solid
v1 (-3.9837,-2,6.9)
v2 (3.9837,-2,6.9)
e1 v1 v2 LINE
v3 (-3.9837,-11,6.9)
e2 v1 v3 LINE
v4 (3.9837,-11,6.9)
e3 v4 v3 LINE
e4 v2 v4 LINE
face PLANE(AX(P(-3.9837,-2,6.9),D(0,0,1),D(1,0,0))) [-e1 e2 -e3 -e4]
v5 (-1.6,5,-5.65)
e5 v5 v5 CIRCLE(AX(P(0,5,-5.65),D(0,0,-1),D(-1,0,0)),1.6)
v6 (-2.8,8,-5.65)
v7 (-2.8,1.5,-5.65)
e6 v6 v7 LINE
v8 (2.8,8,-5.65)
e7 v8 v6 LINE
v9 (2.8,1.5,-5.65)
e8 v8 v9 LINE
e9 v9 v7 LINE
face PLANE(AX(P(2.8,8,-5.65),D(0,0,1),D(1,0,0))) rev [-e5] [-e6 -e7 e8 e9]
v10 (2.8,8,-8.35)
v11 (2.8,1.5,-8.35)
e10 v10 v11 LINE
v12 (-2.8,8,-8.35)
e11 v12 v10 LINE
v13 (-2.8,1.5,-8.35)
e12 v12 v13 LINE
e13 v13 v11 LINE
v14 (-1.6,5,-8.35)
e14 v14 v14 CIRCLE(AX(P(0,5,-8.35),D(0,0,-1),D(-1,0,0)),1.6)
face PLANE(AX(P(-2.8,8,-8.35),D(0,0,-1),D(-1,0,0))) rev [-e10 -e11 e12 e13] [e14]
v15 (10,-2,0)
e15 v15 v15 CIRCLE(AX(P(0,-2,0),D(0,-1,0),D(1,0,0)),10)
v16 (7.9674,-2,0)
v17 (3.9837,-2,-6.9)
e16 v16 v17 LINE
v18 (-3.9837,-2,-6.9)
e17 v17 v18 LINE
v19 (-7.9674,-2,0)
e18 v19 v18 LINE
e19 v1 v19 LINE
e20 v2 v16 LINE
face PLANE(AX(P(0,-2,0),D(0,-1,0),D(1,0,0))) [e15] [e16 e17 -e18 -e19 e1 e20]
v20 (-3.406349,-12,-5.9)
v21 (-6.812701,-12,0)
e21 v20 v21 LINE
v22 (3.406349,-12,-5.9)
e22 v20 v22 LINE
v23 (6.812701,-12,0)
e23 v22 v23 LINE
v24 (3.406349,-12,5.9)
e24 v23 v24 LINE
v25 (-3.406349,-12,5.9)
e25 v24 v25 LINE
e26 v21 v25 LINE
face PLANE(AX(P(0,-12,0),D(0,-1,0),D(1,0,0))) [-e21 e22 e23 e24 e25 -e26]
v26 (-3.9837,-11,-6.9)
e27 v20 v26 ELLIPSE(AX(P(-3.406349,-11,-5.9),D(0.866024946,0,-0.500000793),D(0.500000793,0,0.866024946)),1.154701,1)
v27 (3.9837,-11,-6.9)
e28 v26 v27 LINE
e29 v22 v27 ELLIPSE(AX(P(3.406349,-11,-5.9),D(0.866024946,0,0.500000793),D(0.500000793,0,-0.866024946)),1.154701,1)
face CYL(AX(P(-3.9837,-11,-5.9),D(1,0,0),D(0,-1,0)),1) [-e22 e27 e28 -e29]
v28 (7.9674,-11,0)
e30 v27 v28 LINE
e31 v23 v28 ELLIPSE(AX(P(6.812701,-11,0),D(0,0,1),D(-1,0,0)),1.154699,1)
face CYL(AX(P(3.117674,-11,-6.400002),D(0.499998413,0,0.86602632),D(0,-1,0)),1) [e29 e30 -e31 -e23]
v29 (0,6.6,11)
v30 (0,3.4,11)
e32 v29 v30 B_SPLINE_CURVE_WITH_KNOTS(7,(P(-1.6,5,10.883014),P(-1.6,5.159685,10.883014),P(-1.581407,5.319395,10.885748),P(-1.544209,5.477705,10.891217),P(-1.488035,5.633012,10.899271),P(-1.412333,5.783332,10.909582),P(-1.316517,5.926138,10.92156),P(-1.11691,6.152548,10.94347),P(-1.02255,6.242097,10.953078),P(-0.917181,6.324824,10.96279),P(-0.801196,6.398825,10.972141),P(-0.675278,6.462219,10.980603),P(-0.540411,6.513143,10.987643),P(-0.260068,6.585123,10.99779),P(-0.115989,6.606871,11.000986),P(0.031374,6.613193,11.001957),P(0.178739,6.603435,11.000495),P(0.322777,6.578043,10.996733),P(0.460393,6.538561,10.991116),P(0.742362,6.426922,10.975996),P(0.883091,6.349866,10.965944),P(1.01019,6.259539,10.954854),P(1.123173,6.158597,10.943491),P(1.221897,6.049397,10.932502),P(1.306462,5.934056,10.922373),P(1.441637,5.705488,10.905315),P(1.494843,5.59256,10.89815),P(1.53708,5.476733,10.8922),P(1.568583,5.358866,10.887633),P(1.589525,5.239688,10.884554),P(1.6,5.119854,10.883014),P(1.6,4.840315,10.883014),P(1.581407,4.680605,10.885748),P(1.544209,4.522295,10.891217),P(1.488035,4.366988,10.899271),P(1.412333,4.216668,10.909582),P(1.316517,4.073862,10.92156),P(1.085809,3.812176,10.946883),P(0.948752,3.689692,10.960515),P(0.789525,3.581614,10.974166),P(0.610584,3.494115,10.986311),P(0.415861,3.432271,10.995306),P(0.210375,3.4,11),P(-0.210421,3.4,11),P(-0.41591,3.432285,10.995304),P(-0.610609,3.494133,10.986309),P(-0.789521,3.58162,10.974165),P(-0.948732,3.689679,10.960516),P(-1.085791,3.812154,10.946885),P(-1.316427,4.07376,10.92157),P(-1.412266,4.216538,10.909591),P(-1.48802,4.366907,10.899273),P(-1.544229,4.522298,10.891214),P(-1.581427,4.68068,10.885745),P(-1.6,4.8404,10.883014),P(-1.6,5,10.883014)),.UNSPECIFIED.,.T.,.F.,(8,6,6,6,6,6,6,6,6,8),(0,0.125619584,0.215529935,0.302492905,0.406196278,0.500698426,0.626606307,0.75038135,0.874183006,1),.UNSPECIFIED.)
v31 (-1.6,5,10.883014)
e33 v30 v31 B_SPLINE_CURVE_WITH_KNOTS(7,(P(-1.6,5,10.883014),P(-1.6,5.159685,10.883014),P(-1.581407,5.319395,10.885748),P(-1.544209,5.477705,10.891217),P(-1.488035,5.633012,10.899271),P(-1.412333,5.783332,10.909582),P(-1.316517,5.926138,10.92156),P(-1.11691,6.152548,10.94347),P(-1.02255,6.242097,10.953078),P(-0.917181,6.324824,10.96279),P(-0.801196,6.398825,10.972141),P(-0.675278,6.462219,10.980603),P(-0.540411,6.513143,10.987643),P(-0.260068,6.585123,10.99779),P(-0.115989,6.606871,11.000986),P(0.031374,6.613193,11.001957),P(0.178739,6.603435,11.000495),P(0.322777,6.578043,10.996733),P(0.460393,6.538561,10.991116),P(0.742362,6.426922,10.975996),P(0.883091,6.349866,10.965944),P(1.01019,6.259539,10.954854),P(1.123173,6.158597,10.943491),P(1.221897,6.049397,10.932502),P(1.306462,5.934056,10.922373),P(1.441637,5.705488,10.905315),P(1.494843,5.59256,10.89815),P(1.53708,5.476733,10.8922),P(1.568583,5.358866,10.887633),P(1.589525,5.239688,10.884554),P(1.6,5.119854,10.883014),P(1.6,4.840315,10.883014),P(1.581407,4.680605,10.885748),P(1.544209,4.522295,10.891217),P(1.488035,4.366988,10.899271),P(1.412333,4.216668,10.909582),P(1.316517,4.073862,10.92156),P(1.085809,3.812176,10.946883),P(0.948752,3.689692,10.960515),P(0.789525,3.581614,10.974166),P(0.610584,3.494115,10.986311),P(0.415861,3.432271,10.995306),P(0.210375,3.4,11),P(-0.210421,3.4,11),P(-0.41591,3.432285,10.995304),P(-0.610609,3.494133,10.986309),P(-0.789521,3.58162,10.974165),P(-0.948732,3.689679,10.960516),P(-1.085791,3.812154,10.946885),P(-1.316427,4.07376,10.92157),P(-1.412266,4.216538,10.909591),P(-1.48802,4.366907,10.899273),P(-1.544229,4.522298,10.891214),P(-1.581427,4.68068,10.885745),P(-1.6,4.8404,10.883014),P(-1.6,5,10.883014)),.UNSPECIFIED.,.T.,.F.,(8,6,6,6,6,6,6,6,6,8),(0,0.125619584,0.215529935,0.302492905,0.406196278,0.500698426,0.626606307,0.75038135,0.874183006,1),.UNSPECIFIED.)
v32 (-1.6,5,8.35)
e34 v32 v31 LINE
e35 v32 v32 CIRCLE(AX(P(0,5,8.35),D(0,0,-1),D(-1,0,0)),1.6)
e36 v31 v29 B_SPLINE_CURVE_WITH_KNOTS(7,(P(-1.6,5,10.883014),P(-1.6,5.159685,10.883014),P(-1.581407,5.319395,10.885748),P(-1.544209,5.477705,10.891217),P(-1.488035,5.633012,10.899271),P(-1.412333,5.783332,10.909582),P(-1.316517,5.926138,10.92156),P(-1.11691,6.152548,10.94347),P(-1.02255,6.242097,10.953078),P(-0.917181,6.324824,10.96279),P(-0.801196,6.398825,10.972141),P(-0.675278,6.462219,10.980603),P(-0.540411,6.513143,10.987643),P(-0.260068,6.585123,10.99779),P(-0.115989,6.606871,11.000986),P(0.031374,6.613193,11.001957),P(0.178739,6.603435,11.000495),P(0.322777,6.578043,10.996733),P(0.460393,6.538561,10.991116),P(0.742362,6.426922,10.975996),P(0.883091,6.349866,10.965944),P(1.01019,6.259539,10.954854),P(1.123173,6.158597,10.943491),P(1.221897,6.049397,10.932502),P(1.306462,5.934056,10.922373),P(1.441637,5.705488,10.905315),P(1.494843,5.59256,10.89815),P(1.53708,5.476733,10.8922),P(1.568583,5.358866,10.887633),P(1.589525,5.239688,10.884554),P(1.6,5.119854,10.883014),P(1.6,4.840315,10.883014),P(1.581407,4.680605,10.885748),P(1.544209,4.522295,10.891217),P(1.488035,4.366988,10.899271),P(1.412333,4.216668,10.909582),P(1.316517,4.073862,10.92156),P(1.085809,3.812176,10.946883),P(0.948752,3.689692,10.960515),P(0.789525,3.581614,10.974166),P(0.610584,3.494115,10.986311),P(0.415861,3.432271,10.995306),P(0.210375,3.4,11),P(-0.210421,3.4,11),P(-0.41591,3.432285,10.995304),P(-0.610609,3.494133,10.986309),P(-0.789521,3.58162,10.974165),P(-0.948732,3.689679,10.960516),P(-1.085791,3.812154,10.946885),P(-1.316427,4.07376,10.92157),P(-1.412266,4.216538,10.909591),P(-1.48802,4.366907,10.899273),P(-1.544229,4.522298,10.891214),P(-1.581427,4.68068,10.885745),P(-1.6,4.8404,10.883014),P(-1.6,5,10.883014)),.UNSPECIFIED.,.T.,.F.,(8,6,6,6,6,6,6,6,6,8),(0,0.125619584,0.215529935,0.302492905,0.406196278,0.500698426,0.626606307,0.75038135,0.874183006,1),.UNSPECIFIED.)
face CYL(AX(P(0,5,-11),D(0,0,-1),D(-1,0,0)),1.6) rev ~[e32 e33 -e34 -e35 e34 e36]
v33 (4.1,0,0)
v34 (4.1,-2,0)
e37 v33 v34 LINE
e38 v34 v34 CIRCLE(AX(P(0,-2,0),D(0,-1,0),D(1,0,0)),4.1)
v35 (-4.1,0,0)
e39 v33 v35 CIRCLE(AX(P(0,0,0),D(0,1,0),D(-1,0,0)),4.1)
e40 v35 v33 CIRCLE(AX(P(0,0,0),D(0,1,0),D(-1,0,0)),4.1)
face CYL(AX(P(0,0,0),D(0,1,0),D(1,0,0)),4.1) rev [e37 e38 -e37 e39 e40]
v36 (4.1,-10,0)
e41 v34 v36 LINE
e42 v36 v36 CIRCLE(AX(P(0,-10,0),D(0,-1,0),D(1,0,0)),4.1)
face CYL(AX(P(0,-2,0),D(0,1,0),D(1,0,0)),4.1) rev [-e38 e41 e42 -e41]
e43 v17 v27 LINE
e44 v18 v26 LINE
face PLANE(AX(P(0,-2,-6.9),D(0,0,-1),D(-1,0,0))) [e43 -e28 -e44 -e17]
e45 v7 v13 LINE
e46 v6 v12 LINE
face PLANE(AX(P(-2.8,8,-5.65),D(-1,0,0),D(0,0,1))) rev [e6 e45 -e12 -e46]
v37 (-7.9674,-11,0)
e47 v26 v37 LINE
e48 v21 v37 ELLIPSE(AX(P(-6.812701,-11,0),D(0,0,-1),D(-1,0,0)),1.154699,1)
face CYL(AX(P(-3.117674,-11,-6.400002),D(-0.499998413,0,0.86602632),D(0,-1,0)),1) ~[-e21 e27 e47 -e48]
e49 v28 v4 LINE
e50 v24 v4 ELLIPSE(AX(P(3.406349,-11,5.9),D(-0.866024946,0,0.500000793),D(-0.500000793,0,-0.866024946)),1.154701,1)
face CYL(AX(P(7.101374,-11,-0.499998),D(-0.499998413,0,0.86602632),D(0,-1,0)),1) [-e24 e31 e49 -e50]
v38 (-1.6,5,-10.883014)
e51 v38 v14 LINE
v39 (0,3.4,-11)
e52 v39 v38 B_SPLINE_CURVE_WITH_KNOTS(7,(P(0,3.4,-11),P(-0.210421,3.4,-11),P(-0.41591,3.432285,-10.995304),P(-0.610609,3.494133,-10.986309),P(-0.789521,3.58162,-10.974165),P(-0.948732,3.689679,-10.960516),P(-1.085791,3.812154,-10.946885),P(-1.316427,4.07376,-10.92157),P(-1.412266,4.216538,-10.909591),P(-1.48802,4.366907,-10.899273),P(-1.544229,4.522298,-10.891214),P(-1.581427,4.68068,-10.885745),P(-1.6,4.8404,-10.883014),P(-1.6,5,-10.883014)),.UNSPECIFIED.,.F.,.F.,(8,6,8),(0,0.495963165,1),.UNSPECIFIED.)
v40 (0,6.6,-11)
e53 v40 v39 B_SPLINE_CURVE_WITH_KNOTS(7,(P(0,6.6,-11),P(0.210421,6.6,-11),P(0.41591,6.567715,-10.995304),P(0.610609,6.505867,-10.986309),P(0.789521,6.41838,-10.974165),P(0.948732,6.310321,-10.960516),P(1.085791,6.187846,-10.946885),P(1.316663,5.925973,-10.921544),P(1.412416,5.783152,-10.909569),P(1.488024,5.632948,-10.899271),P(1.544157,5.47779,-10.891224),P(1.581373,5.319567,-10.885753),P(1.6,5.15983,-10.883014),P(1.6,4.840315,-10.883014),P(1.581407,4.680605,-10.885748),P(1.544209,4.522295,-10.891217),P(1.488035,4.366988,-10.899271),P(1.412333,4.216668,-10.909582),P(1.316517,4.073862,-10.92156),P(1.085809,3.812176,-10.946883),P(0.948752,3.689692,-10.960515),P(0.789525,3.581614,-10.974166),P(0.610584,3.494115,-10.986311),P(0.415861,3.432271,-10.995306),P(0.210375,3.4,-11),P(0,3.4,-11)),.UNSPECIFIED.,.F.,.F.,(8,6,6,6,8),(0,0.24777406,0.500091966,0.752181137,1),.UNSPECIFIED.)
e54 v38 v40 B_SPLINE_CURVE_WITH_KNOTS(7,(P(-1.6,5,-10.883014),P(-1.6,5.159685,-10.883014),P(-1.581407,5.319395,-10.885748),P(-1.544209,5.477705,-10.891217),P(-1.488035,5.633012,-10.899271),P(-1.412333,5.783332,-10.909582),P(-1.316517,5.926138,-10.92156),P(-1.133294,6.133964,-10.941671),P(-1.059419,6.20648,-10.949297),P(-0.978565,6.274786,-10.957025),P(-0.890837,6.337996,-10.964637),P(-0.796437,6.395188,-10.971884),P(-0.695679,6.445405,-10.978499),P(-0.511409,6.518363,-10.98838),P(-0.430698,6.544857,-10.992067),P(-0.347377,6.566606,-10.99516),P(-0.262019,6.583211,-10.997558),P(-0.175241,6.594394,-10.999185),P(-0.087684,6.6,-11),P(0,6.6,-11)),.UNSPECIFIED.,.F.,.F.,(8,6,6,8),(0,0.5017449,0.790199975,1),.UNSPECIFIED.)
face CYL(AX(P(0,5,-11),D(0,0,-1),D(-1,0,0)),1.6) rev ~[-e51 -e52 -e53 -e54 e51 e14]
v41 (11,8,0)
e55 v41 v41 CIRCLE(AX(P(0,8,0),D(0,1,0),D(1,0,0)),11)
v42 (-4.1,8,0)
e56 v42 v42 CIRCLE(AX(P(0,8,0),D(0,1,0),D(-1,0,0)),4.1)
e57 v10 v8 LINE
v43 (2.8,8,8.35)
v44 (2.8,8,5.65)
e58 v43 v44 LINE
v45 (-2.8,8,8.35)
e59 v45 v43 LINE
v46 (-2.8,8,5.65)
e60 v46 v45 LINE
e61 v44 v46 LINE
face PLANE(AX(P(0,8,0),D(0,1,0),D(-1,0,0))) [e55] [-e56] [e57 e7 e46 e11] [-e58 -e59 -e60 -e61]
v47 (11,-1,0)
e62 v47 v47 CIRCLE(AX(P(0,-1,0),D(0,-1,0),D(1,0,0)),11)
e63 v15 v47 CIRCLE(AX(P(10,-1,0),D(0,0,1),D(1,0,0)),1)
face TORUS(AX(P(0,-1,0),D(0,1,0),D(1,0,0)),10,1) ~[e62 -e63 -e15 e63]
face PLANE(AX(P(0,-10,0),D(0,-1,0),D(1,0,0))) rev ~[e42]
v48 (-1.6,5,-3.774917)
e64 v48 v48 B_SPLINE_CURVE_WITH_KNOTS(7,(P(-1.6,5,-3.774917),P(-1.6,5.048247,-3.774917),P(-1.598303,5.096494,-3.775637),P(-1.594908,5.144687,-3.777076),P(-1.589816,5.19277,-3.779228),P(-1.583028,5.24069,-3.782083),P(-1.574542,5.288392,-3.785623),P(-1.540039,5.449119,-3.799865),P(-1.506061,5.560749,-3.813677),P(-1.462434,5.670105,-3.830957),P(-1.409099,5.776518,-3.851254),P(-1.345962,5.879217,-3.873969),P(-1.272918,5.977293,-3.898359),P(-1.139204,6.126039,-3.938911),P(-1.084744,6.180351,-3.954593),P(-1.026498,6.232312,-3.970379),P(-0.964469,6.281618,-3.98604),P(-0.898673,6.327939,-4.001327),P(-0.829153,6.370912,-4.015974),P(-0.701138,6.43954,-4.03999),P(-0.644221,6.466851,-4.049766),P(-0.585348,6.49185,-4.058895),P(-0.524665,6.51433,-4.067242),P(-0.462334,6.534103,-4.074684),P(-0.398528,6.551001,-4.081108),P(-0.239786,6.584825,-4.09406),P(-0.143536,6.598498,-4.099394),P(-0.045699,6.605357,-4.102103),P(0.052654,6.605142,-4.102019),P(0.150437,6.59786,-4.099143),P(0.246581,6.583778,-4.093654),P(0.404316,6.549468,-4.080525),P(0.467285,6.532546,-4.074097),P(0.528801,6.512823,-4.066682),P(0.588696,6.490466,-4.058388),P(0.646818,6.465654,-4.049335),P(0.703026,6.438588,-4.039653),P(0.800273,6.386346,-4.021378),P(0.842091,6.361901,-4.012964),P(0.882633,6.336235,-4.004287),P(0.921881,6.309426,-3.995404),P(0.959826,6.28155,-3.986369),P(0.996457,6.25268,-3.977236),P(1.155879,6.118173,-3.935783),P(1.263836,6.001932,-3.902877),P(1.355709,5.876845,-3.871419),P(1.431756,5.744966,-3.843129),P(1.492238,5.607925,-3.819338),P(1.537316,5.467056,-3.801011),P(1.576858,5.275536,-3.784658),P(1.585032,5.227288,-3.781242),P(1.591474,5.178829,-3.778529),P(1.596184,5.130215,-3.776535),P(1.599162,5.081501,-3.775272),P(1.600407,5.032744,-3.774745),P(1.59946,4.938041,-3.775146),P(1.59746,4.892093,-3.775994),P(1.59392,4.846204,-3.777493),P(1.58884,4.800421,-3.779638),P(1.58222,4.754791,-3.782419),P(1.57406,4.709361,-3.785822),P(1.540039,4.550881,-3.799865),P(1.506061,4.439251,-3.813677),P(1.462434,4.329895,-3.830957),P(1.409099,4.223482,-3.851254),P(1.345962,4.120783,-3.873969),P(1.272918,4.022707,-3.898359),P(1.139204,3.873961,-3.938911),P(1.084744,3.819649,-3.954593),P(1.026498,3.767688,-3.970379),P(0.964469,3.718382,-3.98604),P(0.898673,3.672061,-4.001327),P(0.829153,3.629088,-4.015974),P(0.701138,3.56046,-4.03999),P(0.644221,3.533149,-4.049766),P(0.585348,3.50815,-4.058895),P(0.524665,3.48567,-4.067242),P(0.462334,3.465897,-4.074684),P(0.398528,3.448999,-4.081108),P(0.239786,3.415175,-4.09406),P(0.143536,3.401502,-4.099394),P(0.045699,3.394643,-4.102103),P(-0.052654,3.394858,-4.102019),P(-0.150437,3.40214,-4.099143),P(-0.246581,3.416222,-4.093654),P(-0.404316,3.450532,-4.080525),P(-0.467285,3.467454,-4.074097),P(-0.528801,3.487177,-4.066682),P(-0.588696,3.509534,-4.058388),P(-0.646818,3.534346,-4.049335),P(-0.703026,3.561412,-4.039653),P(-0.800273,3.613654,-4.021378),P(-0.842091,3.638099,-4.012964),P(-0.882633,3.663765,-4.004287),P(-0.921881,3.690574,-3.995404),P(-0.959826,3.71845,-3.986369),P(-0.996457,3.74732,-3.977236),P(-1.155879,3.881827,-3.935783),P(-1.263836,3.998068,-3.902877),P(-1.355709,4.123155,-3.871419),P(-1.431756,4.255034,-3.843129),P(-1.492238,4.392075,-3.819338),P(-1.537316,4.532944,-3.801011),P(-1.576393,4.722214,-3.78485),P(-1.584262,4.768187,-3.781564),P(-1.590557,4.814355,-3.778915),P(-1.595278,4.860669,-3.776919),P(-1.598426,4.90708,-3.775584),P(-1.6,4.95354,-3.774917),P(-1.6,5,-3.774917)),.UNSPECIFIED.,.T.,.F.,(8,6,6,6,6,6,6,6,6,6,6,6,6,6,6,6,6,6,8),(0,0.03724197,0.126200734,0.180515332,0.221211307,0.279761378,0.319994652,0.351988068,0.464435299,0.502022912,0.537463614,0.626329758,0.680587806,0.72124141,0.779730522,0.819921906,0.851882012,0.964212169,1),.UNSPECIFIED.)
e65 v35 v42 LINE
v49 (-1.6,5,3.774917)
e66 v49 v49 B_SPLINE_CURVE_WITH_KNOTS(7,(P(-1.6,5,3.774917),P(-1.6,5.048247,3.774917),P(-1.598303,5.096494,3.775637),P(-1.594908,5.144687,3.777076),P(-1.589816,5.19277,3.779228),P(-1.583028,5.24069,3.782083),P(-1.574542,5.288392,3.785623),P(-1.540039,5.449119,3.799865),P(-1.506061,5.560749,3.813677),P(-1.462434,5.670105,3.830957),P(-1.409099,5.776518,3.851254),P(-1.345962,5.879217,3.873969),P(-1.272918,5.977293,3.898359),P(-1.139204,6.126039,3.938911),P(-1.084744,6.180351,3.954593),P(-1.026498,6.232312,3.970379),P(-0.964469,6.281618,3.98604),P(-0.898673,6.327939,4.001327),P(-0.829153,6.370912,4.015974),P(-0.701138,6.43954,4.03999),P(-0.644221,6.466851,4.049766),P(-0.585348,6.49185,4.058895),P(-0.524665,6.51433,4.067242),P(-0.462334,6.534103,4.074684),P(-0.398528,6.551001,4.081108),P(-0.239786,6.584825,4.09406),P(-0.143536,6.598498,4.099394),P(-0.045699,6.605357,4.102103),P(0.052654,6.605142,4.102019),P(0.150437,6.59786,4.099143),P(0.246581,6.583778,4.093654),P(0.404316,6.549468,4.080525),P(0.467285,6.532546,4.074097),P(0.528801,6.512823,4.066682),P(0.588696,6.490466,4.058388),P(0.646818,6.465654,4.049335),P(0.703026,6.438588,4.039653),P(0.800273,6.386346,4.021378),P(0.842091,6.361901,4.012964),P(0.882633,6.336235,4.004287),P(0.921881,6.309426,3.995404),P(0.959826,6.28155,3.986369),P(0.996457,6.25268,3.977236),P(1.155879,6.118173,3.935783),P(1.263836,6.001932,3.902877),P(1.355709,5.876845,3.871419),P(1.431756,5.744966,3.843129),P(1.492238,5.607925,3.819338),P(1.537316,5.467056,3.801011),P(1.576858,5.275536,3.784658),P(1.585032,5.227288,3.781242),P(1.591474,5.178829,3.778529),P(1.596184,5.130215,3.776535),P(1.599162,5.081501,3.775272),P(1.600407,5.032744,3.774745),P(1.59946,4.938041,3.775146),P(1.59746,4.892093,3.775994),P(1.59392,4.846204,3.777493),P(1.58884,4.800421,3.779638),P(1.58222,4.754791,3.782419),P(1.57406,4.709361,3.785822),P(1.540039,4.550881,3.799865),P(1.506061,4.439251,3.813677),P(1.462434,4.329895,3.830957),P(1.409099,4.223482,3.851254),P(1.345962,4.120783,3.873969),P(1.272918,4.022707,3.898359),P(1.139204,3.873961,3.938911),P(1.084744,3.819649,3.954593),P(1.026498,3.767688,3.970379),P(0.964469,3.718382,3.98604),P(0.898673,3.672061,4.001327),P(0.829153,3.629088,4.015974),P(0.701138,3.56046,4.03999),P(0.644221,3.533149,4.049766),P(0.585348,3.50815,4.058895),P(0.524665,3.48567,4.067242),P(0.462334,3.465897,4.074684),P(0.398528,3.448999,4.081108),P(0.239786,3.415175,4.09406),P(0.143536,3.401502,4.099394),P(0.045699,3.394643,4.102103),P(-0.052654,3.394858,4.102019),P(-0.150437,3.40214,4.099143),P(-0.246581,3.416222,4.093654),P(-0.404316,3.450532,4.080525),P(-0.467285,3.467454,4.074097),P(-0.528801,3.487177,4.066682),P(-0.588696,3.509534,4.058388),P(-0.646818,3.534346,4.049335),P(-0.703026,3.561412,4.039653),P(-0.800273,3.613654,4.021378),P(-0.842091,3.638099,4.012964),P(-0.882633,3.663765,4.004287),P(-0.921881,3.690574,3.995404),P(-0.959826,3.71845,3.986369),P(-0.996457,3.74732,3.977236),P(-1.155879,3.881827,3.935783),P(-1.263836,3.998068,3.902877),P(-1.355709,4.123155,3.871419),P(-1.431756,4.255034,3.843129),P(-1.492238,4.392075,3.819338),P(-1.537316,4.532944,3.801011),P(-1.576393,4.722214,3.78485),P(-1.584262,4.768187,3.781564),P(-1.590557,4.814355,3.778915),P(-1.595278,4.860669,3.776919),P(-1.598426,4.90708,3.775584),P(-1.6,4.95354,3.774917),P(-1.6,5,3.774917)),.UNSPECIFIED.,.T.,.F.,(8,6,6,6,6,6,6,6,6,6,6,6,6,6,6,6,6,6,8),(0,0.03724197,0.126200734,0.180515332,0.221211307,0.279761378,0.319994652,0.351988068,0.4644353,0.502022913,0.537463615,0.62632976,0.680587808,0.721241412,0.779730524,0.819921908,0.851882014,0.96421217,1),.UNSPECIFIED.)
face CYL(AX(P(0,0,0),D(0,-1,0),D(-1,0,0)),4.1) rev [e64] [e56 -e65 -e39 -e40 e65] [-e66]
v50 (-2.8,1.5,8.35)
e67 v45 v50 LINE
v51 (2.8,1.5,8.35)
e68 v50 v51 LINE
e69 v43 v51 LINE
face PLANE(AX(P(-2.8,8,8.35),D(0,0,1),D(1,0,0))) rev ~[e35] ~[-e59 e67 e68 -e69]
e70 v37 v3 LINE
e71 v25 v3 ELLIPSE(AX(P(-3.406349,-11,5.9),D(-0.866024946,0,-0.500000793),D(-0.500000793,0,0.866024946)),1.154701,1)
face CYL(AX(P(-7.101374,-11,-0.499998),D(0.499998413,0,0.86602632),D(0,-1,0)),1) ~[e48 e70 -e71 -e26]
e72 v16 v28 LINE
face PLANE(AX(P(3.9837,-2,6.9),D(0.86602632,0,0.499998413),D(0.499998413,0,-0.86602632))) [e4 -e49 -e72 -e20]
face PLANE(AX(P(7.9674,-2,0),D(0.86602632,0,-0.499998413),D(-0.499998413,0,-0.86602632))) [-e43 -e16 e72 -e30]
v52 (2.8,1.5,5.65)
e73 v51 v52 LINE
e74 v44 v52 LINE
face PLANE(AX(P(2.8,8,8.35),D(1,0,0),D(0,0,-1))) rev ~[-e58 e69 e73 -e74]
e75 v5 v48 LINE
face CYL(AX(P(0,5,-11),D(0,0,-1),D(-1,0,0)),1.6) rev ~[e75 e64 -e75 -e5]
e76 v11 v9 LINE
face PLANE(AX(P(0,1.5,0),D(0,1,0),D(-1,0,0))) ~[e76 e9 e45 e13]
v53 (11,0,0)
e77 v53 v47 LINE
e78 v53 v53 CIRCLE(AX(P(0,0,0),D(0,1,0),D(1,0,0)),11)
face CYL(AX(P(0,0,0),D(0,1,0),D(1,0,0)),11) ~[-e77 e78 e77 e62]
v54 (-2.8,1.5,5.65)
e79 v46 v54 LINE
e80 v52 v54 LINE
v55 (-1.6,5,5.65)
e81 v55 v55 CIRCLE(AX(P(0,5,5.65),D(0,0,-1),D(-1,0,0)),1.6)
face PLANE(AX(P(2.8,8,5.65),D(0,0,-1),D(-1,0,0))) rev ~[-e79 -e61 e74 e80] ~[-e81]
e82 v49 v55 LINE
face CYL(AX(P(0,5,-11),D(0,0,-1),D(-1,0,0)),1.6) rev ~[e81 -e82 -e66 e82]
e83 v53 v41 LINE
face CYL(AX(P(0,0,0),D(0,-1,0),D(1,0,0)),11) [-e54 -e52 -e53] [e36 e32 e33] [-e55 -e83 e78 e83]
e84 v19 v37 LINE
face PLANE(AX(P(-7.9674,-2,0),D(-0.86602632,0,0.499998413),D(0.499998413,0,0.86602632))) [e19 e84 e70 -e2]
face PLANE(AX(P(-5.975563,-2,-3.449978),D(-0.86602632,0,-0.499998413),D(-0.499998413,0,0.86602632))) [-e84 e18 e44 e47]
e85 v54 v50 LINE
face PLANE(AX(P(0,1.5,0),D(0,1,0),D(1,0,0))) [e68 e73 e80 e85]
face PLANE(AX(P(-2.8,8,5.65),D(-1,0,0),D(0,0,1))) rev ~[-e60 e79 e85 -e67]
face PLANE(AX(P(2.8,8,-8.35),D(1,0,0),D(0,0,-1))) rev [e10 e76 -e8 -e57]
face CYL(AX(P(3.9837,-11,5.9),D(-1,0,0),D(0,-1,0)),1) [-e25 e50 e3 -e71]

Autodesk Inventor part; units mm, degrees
ref_plane "YZ Plane" through (0, 0, 0) normal (1, 0, 0) x (0, 1, 0)
ref_plane "XZ Plane" through (0, 0, 0) normal (0, 1, 0) x (-1, 0, 0)
ref_plane "XY Plane" through (0, 0, 0) normal (0, 0, 1) x (1, 0, 0)
sketch "Sketch1" plane through (0, 0, 0) normal (0, 1, 0) x (-1, 0, 0)
  line L0 (12.7017, 0) -> (6.3509, -11)
  line L1 (6.3509, -11) -> (-6.3509, -11)
  line L2 (-6.3509, -11) -> (-12.7017, 0)
  line L3 (-12.7017, 0) -> (-6.3509, 11)
  line L4 (-6.3509, 11) -> (6.3509, 11)
  line L5 (6.3509, 11) -> (12.7017, 0)
  circle A0 centre (0, 0) radius 11
  circle A1 centre (0, 0) radius 4.1
  dimension "d0" = 22
  dimension "d1" = 8.2
extrude "Extrusion1" add sketch "Sketch1" along normal blind 8
sketch "Sketch2" plane through (0, 8, 0) normal (0, 1, 0) x (1, 0, 0)
  line L0 (-2.8, -8.35) -> (2.8, -8.35)
  line L1 (2.8, -8.35) -> (2.8, -5.65)
  line L2 (2.8, -5.65) -> (-2.8, -5.65)
  line L3 (-2.8, -5.65) -> (-2.8, -8.35)
  line L4 (-2.8, -8.35) -> (2.8, -5.65) construction
  line L5 (2.8, -8.35) -> (-2.8, -5.65) construction
  point P0 (0, 0)
  point P1 (0, -7)
  point P2 (0, -7)
  dimension "d4" = 2.7
  dimension "d5" = 5.6
  dimension "d8" = 7
extrude "Extrusion2" cut sketch "Sketch2" against normal blind 6.5
mirror "Mirror1" about plane through (0, 0, 0) normal (0, 0, 1) of "Extrusion2"
sketch "Sketch3" plane through (6.3509, 0, -11) normal (0, 0, -1) x (-1, 0, 0)
  circle A0 centre (6.3509, 5) radius 1.6
  line L0 (0, 0) -> (12.7017, 0) projected
  point P0 (6.3509, 0)
  point P1 (6.3509, 0)
  dimension "d9" = 3.2
  dimension "d10" = 5
extrude "Extrusion3" cut sketch "Sketch3" against normal through all
sketch "Sketch5" plane through (0, 0, 0) normal (0, -1, 0) x (1, 0, 0)
  circle A0 centre (0, 0) radius 11
  line L0 (6.3509, -11) -> (-6.3509, -11) projected
  circle A1 centre (0, 0) radius 14.2349
extrude "Extrusion5" cut sketch "Sketch5" against normal through all
sketch "Sketch6" plane through (0, 0, 0) normal (0, -1, 0) x (1, 0, 0)
  circle A0 centre (0, 0) radius 11 projected
  circle A1 centre (0, 0) radius 4.1 projected
extrude "Extrusion6" add sketch "Sketch6" along normal blind 2
sketch "Sketch7" plane through (0, -2, 0) normal (0, -1, 0) x (1, 0, 0)
  line L0 (-7.9674, 0) -> (-3.9837, 6.9)
  line L1 (-3.9837, 6.9) -> (3.9837, 6.9)
  line L2 (3.9837, 6.9) -> (7.9674, 0)
  line L3 (7.9674, 0) -> (3.9837, -6.9)
  line L4 (3.9837, -6.9) -> (-3.9837, -6.9)
  line L5 (-3.9837, -6.9) -> (-7.9674, 0)
  circle A0 centre (0, 0) radius 6.9
  circle A1 centre (0, 0) radius 4.1 projected
  dimension "d19" = 13.8
extrude "Extrusion7" add sketch "Sketch7" along normal blind 10
sketch "Sketch8" plane through (0, -12, 0) normal (0, -1, 0) x (1, 0, 0)
  circle A0 centre (0, 0) radius 4.1
extrude "Extrusion8" add sketch "Sketch8" against normal blind 2
fillet "Fillet1" radius 1 6 edges at (0, -12, -6.9) (-5.9756, -12, -3.45) (-5.9756, -12, 3.45) (0, -12, 6.9) (5.9756, -12, 3.45) (5.9756, -12, -3.45)
fillet "Fillet2" radius 1 1 edges at (-11, -2, 0)
sketch "Sketch4" plane through (0, 0, 0) normal (0, -1, 0) x (1, 0, 0)
  line L0 (-2.8, -5.25) -> (2.8, -5.25) projected
  line L1 (2.8, -5.25) -> (2.8, -7.95) projected
  line L2 (2.8, -7.95) -> (-2.8, -7.95) projected
  line L3 (-2.8, -7.95) -> (-2.8, -5.25) projected
  line L4 (2.8, 5.25) -> (-2.8, 5.25) projected
  line L5 (-2.8, 5.25) -> (-2.8, 7.95) projected
  line L6 (-2.8, 7.95) -> (2.8, 7.95) projected
  line L7 (2.8, 7.95) -> (2.8, 5.25) projected
  line L8 (5.4848, -9.5) -> (-5.4848, -9.5) projected
  line L9 (10.9697, 0) -> (5.4848, -9.5) projected
  line L10 (5.4848, 9.5) -> (10.9697, 0) projected
  line L11 (-5.4848, 9.5) -> (5.4848, 9.5) projected
  line L12 (-10.9697, 0) -> (-5.4848, 9.5) projected
  line L13 (-5.4848, -9.5) -> (-10.9697, 0) projected
  circle A0 centre (0, 0) radius 4.1 projected
properties part number "EndNut"
